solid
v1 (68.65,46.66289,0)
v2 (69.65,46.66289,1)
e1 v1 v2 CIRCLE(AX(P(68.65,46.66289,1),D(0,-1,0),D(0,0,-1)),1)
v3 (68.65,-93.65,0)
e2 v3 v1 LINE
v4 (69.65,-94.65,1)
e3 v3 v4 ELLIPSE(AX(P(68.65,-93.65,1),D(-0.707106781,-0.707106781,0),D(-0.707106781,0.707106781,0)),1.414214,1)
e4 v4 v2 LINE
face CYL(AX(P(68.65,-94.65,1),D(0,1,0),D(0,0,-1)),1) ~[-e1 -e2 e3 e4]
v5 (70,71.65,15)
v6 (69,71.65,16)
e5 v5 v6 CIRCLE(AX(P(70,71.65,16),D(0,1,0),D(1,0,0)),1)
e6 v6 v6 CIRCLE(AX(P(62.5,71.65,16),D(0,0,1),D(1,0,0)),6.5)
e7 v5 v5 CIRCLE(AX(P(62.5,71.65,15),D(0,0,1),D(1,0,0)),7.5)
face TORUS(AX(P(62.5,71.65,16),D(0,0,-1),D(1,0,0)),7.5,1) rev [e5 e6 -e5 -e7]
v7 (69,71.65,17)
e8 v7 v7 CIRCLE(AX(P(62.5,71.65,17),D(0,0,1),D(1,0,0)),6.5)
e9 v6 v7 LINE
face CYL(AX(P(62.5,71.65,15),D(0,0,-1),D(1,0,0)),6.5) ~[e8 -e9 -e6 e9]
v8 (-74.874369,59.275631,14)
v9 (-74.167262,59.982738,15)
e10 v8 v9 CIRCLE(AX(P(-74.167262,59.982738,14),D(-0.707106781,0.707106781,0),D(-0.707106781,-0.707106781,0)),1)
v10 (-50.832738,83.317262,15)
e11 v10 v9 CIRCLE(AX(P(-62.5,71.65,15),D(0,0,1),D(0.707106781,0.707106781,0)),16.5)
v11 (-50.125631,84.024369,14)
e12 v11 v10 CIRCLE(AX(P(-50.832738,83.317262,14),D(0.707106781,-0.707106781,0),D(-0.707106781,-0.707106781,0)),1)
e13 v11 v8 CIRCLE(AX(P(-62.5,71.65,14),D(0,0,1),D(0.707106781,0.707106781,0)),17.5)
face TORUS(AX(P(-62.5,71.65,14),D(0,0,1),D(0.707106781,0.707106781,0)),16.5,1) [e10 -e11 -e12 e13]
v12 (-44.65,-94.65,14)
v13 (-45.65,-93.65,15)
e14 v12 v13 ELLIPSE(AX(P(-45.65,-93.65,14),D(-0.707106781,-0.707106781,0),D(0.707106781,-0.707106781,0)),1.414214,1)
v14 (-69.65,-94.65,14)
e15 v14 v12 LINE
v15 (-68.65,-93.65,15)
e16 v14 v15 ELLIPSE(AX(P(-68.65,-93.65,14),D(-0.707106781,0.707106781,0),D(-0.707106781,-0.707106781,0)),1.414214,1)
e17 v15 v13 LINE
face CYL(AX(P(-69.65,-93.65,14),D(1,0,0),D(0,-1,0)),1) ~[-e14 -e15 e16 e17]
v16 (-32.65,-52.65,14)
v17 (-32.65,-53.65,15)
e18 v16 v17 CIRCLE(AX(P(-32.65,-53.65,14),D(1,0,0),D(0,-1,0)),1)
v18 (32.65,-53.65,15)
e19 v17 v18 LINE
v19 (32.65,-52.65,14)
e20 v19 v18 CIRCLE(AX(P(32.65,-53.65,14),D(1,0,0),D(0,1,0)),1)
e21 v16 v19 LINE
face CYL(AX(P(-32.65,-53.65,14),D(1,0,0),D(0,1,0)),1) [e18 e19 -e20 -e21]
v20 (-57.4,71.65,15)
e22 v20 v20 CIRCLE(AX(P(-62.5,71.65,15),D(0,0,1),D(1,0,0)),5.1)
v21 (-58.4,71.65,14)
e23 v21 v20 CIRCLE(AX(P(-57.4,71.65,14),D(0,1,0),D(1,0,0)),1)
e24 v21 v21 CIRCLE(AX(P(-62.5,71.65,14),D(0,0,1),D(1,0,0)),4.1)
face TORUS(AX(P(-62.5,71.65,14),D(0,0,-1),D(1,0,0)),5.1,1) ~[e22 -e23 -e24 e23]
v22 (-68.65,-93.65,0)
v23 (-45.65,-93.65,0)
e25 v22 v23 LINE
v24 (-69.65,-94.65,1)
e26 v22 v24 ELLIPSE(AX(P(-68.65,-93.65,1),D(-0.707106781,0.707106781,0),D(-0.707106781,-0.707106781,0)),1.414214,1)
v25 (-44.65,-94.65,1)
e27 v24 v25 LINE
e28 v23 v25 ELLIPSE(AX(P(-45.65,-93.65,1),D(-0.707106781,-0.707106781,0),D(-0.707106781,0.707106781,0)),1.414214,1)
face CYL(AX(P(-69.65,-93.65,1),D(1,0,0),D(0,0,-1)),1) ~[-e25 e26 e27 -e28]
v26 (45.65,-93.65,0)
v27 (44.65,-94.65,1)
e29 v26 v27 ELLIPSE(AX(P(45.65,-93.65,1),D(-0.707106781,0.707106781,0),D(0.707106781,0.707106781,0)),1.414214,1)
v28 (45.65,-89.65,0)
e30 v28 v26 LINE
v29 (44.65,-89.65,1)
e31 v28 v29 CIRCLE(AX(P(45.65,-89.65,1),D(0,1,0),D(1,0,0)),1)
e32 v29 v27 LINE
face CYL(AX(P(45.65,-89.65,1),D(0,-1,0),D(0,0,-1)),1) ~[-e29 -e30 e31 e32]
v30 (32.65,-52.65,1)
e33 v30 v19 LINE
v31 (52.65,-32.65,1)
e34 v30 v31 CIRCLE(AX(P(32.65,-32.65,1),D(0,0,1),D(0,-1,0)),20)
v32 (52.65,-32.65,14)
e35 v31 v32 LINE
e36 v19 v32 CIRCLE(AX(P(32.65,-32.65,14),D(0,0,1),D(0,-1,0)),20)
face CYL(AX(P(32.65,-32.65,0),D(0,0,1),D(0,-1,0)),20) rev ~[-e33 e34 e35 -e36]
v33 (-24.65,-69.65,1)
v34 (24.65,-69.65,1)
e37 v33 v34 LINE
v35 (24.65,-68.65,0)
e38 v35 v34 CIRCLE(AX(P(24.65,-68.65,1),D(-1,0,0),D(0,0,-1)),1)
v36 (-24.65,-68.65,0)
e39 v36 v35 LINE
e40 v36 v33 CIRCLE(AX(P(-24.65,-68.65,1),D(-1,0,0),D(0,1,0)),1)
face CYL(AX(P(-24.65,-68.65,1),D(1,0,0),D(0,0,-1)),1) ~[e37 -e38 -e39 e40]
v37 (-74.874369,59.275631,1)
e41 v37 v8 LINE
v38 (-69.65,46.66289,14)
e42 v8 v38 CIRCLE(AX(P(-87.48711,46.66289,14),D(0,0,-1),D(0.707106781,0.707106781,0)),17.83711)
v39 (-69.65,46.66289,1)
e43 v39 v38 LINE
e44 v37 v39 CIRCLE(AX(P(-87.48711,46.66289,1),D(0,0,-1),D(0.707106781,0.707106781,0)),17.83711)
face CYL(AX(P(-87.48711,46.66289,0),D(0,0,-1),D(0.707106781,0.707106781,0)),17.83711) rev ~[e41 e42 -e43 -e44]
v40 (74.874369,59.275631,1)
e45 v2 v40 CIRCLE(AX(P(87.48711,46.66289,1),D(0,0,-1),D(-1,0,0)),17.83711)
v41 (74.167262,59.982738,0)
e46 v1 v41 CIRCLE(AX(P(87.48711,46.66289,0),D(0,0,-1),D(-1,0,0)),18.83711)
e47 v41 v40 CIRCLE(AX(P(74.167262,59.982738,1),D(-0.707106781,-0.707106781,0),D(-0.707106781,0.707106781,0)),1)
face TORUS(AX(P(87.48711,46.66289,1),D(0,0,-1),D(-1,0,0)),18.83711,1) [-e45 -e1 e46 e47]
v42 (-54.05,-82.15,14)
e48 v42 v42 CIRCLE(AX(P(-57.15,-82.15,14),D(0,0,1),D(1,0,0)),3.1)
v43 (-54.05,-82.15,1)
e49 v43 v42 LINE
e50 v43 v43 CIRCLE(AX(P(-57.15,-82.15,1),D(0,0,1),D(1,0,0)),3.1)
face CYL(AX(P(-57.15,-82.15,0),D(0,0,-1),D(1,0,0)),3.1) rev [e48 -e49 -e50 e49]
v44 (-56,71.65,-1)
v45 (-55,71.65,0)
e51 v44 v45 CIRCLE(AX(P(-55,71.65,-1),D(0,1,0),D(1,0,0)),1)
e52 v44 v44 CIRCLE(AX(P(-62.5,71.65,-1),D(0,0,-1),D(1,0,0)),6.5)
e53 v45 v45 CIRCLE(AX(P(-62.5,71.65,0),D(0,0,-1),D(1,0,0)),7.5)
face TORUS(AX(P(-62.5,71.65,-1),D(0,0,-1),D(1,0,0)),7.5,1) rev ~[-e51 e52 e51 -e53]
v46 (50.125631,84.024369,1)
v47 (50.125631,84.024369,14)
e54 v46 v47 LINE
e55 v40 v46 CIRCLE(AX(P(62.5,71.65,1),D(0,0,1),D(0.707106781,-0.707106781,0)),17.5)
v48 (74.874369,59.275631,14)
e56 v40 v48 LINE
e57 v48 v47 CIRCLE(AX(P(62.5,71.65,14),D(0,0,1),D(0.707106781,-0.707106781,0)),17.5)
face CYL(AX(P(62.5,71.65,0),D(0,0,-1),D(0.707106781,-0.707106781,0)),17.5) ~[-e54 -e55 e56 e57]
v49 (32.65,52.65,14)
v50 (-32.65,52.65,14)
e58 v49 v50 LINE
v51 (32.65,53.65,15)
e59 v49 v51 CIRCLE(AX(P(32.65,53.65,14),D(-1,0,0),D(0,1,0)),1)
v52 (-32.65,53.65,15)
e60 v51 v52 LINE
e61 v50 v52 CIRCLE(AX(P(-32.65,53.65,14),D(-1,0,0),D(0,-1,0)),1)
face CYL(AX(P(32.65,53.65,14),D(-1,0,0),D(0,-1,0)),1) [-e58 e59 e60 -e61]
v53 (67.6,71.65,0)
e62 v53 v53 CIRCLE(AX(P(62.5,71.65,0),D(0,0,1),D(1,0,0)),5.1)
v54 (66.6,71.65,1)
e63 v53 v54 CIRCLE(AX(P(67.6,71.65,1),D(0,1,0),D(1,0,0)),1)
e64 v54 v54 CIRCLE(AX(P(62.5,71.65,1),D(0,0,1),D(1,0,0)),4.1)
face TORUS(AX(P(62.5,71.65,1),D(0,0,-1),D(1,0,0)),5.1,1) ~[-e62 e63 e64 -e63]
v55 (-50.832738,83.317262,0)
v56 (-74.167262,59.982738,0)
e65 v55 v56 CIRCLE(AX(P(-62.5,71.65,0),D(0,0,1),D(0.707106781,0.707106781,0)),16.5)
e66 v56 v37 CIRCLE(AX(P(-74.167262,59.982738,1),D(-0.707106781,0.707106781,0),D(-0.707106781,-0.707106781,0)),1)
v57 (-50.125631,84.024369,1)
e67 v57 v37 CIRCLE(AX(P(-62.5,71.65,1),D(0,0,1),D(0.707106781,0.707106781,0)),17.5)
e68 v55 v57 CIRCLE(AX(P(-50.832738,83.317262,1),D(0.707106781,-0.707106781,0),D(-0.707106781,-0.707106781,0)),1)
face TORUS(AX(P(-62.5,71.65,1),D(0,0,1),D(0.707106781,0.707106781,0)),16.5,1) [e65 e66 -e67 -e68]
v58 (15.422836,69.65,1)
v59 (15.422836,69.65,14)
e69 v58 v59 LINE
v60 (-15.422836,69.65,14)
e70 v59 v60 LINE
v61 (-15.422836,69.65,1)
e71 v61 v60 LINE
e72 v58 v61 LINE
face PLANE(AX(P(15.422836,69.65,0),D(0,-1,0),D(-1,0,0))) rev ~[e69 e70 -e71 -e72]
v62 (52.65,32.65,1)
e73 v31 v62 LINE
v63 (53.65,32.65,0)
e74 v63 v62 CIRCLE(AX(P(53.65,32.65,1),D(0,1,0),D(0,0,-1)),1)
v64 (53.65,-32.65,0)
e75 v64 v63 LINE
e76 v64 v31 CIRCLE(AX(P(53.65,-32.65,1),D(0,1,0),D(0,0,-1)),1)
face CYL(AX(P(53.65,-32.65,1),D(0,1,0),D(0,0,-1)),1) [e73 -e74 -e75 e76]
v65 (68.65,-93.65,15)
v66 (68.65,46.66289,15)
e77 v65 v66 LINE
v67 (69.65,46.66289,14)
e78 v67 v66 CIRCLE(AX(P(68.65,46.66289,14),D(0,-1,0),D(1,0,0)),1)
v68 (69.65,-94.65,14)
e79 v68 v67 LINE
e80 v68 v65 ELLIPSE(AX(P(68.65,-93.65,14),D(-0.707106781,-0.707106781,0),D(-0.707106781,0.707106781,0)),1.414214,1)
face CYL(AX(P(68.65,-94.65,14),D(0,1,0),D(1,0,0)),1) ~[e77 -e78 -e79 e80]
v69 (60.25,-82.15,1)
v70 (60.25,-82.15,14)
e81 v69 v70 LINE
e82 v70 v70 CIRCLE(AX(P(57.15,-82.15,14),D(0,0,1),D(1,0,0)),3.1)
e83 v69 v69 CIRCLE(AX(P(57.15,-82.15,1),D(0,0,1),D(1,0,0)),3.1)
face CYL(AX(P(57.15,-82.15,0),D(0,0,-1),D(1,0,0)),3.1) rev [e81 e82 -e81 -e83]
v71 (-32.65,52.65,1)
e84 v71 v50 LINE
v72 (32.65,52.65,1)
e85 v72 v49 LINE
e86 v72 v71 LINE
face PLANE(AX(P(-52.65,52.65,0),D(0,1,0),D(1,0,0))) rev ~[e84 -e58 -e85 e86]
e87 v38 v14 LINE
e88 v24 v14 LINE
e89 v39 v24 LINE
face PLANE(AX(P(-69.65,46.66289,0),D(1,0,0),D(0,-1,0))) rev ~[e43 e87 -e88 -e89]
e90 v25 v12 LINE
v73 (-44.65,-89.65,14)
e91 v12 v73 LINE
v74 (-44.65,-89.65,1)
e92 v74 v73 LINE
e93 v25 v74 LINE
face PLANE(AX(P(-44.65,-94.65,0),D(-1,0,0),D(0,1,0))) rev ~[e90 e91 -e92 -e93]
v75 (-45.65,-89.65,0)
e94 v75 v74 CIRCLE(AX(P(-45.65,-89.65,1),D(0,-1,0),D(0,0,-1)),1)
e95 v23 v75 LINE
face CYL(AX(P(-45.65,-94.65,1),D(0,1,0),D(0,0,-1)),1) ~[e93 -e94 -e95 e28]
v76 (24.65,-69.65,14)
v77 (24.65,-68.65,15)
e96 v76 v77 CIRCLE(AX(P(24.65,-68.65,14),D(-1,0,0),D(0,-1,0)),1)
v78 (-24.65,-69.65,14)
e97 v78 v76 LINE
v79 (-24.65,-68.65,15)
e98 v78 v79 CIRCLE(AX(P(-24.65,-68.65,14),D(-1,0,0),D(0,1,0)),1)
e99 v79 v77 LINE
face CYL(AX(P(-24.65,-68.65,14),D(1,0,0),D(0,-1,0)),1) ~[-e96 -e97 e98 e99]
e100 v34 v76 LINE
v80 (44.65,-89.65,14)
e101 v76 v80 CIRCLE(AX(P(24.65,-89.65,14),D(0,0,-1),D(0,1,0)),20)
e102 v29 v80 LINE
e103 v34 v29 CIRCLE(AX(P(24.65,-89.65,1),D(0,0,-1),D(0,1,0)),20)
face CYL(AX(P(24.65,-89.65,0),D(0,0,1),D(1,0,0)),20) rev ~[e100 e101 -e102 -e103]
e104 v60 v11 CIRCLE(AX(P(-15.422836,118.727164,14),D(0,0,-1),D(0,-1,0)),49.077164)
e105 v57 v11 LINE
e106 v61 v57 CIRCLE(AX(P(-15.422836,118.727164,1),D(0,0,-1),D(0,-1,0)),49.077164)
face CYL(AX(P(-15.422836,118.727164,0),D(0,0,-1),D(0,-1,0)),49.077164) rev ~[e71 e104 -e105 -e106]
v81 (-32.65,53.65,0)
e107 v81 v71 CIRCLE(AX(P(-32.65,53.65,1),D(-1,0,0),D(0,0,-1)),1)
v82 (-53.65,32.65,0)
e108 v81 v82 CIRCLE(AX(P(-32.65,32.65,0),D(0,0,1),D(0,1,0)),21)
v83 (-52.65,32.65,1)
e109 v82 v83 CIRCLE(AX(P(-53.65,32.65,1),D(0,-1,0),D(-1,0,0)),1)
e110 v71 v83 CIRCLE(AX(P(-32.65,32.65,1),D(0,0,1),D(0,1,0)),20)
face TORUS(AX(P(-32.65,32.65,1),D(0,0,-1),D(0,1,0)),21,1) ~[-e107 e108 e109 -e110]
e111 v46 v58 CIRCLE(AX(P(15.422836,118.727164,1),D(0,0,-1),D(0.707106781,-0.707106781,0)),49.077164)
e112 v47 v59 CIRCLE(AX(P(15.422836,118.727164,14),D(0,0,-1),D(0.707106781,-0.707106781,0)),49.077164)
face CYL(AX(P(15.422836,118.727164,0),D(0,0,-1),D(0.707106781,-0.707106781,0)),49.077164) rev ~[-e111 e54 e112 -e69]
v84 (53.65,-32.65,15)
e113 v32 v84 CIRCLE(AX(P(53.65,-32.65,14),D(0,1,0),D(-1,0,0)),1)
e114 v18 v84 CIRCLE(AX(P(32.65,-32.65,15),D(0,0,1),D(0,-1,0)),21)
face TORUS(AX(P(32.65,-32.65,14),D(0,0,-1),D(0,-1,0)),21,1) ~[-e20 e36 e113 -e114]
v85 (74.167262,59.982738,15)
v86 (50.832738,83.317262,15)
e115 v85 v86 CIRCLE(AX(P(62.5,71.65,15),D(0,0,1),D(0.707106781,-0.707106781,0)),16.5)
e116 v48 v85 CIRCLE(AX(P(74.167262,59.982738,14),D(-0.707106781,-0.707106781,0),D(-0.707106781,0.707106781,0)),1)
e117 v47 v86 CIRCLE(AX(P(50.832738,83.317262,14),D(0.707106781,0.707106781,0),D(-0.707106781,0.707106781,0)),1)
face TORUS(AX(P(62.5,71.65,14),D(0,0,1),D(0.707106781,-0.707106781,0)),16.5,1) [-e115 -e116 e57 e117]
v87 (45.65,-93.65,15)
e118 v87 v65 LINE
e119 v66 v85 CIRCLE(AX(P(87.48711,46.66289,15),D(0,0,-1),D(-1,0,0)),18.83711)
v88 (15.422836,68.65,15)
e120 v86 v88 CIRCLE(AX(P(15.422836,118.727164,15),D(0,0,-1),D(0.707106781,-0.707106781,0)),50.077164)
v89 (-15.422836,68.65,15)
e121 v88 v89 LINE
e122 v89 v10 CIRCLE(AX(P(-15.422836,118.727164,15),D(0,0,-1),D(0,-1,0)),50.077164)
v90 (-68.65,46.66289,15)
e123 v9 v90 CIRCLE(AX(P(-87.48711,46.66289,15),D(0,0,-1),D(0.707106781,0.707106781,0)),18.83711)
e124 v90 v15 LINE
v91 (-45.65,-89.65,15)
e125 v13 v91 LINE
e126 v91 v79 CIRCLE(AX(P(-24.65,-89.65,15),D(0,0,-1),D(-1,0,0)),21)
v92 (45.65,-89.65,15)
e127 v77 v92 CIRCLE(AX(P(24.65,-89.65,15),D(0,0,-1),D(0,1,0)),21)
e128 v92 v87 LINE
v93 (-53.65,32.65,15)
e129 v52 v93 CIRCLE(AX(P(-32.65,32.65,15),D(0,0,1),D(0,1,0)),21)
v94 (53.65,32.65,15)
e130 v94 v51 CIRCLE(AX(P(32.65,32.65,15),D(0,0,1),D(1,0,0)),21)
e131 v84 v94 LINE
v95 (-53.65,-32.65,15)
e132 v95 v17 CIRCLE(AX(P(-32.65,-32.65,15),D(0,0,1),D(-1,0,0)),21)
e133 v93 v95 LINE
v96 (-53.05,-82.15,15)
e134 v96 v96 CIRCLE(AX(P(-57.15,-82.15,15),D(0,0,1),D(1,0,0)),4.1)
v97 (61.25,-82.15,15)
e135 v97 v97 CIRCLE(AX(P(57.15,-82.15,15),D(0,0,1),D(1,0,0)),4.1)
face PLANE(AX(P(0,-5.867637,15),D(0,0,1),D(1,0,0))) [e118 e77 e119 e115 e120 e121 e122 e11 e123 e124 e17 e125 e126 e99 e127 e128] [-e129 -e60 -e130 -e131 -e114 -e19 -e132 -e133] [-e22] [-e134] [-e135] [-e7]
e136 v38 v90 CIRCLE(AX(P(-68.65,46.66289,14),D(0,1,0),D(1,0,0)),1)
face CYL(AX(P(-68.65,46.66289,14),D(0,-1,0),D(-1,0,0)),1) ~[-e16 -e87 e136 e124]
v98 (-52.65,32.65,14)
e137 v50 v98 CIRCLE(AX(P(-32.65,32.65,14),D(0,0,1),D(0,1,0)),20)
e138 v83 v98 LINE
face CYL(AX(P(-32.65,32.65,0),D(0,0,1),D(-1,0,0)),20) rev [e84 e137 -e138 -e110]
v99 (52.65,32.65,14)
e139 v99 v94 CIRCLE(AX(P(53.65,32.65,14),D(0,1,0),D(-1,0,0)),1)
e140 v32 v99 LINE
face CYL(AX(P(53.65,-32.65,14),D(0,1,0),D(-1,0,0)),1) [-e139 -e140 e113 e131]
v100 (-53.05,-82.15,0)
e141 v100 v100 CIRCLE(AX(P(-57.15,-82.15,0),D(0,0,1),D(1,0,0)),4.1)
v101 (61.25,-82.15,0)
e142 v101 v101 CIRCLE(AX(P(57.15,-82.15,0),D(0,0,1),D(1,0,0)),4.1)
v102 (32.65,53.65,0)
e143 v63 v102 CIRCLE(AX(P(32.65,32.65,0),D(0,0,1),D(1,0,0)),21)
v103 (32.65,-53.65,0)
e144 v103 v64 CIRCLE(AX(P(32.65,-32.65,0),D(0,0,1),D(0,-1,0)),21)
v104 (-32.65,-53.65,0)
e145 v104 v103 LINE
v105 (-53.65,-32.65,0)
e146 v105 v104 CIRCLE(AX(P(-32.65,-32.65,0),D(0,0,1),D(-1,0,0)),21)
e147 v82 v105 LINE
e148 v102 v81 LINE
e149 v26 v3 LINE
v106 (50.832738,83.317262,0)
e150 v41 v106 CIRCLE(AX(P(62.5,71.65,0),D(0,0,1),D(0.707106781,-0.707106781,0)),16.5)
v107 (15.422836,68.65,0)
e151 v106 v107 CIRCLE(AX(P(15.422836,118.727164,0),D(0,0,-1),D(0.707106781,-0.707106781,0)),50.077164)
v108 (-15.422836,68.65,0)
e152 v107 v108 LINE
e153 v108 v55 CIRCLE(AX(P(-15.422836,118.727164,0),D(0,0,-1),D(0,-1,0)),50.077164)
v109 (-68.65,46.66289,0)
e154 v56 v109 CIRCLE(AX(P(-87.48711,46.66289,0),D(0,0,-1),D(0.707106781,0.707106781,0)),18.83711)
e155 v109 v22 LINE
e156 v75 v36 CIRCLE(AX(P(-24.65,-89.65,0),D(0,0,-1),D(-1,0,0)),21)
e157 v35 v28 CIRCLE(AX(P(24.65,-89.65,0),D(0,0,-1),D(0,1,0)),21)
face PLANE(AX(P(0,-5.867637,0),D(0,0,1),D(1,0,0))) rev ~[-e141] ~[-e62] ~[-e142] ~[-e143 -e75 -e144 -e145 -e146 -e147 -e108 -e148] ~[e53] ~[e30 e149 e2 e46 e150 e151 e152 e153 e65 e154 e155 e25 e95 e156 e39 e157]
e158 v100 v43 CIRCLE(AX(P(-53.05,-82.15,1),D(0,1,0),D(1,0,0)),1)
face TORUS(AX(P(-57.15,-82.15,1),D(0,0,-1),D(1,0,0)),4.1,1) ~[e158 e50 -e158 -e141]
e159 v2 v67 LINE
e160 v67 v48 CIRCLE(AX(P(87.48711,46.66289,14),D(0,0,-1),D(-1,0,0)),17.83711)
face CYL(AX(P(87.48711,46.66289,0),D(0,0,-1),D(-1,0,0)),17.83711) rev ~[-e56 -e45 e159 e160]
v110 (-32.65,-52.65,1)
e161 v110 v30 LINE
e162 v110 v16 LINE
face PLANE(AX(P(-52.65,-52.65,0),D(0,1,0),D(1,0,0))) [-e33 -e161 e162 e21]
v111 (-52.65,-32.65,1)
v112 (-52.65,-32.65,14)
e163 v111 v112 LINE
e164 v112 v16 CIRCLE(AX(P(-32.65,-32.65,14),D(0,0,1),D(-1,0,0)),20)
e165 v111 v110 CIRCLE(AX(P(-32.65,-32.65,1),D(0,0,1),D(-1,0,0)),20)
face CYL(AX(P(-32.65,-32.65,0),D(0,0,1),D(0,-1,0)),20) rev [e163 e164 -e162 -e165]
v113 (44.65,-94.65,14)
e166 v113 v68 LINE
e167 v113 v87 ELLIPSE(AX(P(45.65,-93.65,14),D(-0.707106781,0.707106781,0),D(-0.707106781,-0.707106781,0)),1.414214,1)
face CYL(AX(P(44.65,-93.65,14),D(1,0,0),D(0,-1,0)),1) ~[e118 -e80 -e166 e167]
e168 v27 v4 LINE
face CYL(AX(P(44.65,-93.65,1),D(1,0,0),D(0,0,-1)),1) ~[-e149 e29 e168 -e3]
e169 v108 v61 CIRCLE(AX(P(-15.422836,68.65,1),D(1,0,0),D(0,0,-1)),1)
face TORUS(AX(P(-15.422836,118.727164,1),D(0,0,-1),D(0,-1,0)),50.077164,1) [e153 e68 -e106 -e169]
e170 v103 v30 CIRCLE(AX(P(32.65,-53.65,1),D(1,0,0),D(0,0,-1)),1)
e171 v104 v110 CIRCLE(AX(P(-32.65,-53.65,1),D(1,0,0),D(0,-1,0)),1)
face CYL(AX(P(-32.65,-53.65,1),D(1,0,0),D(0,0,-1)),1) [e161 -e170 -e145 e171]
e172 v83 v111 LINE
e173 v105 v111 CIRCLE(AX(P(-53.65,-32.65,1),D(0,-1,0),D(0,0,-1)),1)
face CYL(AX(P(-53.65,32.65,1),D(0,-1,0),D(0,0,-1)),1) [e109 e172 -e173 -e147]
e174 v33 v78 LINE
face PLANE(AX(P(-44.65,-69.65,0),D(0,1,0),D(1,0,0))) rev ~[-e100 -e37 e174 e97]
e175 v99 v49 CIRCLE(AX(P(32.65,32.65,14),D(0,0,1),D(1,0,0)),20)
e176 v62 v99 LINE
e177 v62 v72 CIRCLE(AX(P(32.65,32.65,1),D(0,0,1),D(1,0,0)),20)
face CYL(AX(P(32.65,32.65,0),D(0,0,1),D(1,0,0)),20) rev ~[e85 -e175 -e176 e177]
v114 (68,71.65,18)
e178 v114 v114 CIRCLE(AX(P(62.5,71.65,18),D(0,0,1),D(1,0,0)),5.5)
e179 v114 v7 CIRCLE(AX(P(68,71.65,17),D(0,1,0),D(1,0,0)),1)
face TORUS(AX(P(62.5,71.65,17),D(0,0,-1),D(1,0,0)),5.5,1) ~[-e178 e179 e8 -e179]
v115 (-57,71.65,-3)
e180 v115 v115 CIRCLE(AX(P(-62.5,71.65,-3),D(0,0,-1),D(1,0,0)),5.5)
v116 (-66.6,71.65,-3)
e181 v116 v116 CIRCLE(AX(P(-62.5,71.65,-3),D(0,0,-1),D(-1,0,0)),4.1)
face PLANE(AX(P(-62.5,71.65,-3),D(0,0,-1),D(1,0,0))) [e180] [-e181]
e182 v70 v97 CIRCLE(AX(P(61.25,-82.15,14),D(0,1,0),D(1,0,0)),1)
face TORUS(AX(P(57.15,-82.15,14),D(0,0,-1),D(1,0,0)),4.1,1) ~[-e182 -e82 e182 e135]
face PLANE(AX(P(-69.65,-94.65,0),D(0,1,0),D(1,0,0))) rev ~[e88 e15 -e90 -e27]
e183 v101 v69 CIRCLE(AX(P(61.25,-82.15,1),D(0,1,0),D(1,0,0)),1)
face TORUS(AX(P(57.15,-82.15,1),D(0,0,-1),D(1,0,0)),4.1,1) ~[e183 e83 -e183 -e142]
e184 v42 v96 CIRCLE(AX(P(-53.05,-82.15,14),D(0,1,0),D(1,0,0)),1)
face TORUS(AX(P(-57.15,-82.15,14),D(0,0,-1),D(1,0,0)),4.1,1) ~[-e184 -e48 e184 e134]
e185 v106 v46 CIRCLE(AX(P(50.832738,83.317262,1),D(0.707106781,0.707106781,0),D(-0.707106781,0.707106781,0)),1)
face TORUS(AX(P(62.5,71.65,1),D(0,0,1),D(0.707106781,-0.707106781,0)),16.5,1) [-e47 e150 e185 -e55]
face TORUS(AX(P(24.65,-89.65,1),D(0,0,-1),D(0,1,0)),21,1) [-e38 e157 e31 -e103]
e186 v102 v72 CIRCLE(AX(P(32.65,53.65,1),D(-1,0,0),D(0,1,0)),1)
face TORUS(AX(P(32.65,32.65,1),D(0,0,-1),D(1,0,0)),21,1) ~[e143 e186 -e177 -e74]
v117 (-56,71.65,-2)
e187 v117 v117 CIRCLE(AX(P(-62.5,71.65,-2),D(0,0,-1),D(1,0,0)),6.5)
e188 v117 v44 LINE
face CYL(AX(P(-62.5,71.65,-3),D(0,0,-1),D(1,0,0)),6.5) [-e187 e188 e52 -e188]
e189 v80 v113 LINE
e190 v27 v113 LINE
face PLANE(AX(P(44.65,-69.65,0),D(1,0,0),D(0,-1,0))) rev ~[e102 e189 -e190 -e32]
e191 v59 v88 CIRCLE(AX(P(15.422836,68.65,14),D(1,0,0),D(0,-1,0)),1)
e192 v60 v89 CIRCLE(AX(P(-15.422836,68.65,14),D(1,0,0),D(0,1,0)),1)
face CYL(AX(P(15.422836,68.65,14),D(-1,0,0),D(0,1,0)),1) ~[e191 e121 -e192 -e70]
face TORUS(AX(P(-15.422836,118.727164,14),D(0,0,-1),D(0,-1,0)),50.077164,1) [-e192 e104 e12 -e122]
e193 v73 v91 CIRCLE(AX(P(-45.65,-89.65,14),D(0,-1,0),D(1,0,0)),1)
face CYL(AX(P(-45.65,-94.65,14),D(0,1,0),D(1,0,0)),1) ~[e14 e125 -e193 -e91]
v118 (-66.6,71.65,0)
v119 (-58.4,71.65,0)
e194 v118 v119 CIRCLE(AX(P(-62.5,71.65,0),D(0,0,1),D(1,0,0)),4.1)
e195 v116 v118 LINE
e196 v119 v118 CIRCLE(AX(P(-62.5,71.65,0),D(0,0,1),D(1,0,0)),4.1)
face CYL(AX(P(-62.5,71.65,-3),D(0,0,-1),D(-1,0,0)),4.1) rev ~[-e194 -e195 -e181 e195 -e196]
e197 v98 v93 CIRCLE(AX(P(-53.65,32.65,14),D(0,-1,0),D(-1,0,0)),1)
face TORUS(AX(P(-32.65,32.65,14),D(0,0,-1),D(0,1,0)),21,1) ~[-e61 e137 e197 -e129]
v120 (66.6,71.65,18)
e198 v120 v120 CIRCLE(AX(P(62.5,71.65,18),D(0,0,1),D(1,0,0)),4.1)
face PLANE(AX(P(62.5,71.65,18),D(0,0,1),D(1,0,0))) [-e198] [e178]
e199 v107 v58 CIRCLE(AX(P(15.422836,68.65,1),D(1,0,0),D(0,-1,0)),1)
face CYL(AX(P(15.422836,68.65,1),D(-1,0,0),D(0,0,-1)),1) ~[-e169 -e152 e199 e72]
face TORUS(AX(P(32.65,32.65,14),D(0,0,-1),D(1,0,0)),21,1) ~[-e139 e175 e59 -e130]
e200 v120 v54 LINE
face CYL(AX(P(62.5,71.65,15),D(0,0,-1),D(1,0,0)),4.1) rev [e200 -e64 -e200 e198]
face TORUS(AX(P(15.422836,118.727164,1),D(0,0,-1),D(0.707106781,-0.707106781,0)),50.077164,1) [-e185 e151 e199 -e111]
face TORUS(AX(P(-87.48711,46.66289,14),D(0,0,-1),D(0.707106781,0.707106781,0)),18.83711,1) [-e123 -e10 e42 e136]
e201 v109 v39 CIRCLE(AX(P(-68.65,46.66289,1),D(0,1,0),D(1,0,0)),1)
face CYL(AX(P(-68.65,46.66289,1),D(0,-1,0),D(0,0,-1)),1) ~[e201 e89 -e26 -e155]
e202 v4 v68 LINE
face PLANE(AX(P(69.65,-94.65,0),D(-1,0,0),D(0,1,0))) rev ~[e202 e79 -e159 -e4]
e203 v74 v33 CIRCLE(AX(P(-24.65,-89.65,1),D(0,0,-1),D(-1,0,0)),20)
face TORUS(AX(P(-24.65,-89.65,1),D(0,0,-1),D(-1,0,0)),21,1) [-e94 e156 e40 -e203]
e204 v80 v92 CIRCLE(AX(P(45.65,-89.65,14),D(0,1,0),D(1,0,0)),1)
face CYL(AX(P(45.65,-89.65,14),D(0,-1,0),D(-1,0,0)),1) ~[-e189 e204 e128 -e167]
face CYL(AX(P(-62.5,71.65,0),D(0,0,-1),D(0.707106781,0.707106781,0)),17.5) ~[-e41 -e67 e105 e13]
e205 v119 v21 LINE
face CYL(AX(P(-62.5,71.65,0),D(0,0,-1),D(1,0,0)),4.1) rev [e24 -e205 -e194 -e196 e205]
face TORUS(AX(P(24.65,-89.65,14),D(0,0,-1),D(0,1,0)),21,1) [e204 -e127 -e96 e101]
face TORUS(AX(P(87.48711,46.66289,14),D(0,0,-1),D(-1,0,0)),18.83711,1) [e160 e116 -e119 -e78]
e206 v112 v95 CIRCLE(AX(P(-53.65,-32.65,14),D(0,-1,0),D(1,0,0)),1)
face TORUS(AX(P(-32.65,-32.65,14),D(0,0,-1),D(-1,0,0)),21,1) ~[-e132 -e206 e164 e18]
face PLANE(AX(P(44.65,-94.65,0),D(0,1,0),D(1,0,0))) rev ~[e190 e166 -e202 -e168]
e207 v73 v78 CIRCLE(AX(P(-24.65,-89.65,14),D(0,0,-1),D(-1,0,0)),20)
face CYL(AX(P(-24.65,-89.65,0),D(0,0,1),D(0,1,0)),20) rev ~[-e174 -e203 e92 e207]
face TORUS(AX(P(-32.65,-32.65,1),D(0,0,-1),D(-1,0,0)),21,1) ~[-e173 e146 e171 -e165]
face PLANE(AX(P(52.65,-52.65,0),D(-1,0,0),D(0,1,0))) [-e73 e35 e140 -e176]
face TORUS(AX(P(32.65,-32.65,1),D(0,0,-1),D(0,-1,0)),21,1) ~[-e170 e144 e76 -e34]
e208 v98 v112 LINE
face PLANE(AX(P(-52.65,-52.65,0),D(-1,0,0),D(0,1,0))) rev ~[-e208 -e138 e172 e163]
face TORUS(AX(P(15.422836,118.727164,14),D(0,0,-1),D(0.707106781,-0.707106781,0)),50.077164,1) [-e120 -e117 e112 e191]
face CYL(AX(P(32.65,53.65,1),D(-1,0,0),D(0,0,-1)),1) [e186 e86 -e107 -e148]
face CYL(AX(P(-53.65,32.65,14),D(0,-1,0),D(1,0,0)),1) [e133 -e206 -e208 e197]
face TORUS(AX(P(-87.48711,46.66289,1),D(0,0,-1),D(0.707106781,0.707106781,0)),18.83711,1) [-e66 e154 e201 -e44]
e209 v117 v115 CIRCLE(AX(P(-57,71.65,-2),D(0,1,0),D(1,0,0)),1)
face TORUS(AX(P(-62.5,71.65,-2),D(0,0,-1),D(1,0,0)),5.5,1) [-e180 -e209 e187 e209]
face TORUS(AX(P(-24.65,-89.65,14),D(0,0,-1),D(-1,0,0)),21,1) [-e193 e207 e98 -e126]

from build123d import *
from build123d.topology import SkipClean

# Parameters (mm, degrees)
SKETCH1_R           = 3.1
SKETCH1_R_2         = 4.1
SKETCH1_W           = 105.3
SKETCH1_H           = 105.3
BOSS_EXTRUDE2_DEPTH = 15
FILLET3_R           = 20
FILLET5_R           = 20
SKETCH8_R           = 6.5
SKETCH8_R_2         = 4.1
BOSS_EXTRUDE7_DEPTH = 3
BOSS_EXTRUDE8_START = 3
SKETCH9_R           = 6.5
SKETCH9_R_2         = 4.1
BOSS_EXTRUDE8_DEPTH = 3
FILLET1_R           = 1
FILLET6_R           = 1


with BuildPart() as part:
    # Sketch1 → Boss-Extrude2 (new body)
    with BuildSketch(Plane.XY):
        with BuildLine():
            Line((69.65, -94.65), (69.65, -69.65))
            Line((69.65, -69.65), (69.65, 46.662889629))
            ThreePointArc((69.65, 46.662889629), (71.00776918, 53.48885625), (74.874368671, 59.275631329))
            ThreePointArc((74.874368671, 59.275631329), (74.874368671, 84.024368671), (50.125631329, 84.024368671))
            ThreePointArc((50.125631329, 84.024368671), (34.203853282, 73.385776702), (15.422835534, 69.65))
            Line((15.422835534, 69.65), (-15.422835534, 69.65))
            ThreePointArc((-15.422835534, 69.65), (-34.203853282, 73.385776702), (-50.125631329, 84.024368671))
            ThreePointArc((-50.125631329, 84.024368671), (-74.874368671, 84.024368671), (-74.874368671, 59.275631329))
            ThreePointArc((-74.874368671, 59.275631329), (-71.00776918, 53.48885625), (-69.65, 46.662889629))
            Line((-69.65, 46.662889629), (-69.65, -69.65))
            Line((-69.65, -69.65), (-69.65, -94.65))
            Line((-69.65, -94.65), (-44.65, -94.65))
            Line((-44.65, -94.65), (-44.65, -69.65))
            Line((-44.65, -69.65), (44.65, -69.65))
            Line((44.65, -69.65), (44.65, -94.65))
            Line((44.65, -94.65), (69.65, -94.65))
        make_face()
        with Locations((-57.15, -82.15)):
            Circle(SKETCH1_R, mode=Mode.SUBTRACT)
        with Locations((57.15, -82.15)):
            Circle(SKETCH1_R, mode=Mode.SUBTRACT)
        with Locations((-62.5, 71.65)):
            Circle(SKETCH1_R_2, mode=Mode.SUBTRACT)
        Rectangle(SKETCH1_W, SKETCH1_H, mode=Mode.SUBTRACT)
        with Locations((62.5, 71.65)):
            Circle(SKETCH1_R_2, mode=Mode.SUBTRACT)
    extrude(amount=BOSS_EXTRUDE2_DEPTH)

    # Fillet3
    fillet3_edges = [part.edges().sort_by_distance(p)[0] for p in [
        (52.65, 52.65, 7.5),
        (-52.65, 52.65, 7.5),
        (-52.65, -52.65, 7.5),
        (52.65, -52.65, 7.5),
    ]]
    fillet(fillet3_edges, radius=FILLET3_R)

    # Fillet5
    fillet5_edges = [part.edges().sort_by_distance(p)[0] for p in [
        (44.65, -69.65, 7.5),
        (-44.65, -69.65, 7.5),
    ]]
    fillet(fillet5_edges, radius=FILLET5_R)

    # Sketch8 → Boss-Extrude7 (add)
    with BuildSketch(Plane.XY.offset(15)):
        with Locations((62.5, 71.65)):
            Circle(SKETCH8_R)
        with Locations((62.5, 71.65)):
            Circle(SKETCH8_R_2, mode=Mode.SUBTRACT)
    extrude(amount=BOSS_EXTRUDE7_DEPTH)

    # Sketch9 → Boss-Extrude8 (add)
    with SkipClean():  # the faces are left unmerged after this step: merging them gives an invalid solid
        with BuildSketch(Plane(origin=(0, 0, 0), x_dir=(-1, 0, 0), z_dir=(0, 0, -1)).offset(BOSS_EXTRUDE8_START)):
            with Locations(Location((62.5, 71.65, 0), (0, 0, 180))):
                Circle(SKETCH9_R)
            with Locations((62.5, 71.65)):
                Circle(SKETCH9_R_2, mode=Mode.SUBTRACT)
        extrude(amount=-BOSS_EXTRUDE8_DEPTH)

    # Fillet1
    fillet1_edges = [part.edges().sort_by_distance(p)[0] for p in [
        (0, 69.65, 15),
        (56, 71.65, 15),
        (-69, 71.65, 0),
        (-34.203853282, 73.385776702, 15),
        (-74.874368671, 84.024368671, 15),
        (-71.00776918, 53.48885625, 15),
        (54.05, -82.15, 0),
        (-60.25, -82.15, 0),
        (-69.65, -23.993555185, 15),
        (58.4, 71.65, 0),
        (34.203853282, 73.385776702, 0),
        (74.874368671, 84.024368671, 0),
        (71.00776918, 53.48885625, 0),
        (69.65, -23.993555185, 0),
        (57.15, -94.65, 0),
        (44.65, -92.15, 0),
        (-44.65, -92.15, 0),
        (-57.15, -94.65, 15),
        (-57.15, -94.65, 0),
        (-69.65, -23.993555185, 0),
        (-71.00776918, 53.48885625, 0),
        (-74.874368671, 84.024368671, 0),
        (-34.203853282, 73.385776702, 0),
        (0, 69.65, 0),
        (-44.65, -92.15, 15),
        (44.65, -92.15, 15),
        (57.15, -94.65, 15),
        (69.65, -23.993555185, 15),
        (71.00776918, 53.48885625, 15),
        (74.874368671, 84.024368671, 15),
        (34.203853282, 73.385776702, 15),
        (52.65, 0, 0),
        (52.65, 0, 15),
        (0, 52.65, 0),
        (0, 52.65, 15),
        (0, -52.65, 0),
        (0, -52.65, 15),
        (-66.6, 71.65, 15),
        (-52.65, 0, 0),
        (-52.65, 0, 15),
        (46.792135624, 46.792135624, 0),
        (46.792135624, 46.792135624, 15),
        (46.792135624, -46.792135624, 0),
        (46.792135624, -46.792135624, 15),
        (-46.792135624, -46.792135624, 0),
        (-46.792135624, -46.792135624, 15),
        (-46.792135624, 46.792135624, 0),
        (-46.792135624, 46.792135624, 15),
        (0, -69.65, 0),
        (0, -69.65, 15),
        (-60.25, -82.15, 15),
        (-38.792135624, -75.507864376, 0),
        (-38.792135624, -75.507864376, 15),
        (38.792135624, -75.507864376, 0),
        (38.792135624, -75.507864376, 15),
        (54.05, -82.15, 15),
    ]]
    fillet(fillet1_edges, radius=FILLET1_R)

    # Fillet6
    fillet6_edges = [part.edges().sort_by_distance(p)[0] for p in [
        (56, 71.65, 18),
        (-69, 71.65, -3),
    ]]
    fillet(fillet6_edges, radius=FILLET6_R)


solid = part.part
